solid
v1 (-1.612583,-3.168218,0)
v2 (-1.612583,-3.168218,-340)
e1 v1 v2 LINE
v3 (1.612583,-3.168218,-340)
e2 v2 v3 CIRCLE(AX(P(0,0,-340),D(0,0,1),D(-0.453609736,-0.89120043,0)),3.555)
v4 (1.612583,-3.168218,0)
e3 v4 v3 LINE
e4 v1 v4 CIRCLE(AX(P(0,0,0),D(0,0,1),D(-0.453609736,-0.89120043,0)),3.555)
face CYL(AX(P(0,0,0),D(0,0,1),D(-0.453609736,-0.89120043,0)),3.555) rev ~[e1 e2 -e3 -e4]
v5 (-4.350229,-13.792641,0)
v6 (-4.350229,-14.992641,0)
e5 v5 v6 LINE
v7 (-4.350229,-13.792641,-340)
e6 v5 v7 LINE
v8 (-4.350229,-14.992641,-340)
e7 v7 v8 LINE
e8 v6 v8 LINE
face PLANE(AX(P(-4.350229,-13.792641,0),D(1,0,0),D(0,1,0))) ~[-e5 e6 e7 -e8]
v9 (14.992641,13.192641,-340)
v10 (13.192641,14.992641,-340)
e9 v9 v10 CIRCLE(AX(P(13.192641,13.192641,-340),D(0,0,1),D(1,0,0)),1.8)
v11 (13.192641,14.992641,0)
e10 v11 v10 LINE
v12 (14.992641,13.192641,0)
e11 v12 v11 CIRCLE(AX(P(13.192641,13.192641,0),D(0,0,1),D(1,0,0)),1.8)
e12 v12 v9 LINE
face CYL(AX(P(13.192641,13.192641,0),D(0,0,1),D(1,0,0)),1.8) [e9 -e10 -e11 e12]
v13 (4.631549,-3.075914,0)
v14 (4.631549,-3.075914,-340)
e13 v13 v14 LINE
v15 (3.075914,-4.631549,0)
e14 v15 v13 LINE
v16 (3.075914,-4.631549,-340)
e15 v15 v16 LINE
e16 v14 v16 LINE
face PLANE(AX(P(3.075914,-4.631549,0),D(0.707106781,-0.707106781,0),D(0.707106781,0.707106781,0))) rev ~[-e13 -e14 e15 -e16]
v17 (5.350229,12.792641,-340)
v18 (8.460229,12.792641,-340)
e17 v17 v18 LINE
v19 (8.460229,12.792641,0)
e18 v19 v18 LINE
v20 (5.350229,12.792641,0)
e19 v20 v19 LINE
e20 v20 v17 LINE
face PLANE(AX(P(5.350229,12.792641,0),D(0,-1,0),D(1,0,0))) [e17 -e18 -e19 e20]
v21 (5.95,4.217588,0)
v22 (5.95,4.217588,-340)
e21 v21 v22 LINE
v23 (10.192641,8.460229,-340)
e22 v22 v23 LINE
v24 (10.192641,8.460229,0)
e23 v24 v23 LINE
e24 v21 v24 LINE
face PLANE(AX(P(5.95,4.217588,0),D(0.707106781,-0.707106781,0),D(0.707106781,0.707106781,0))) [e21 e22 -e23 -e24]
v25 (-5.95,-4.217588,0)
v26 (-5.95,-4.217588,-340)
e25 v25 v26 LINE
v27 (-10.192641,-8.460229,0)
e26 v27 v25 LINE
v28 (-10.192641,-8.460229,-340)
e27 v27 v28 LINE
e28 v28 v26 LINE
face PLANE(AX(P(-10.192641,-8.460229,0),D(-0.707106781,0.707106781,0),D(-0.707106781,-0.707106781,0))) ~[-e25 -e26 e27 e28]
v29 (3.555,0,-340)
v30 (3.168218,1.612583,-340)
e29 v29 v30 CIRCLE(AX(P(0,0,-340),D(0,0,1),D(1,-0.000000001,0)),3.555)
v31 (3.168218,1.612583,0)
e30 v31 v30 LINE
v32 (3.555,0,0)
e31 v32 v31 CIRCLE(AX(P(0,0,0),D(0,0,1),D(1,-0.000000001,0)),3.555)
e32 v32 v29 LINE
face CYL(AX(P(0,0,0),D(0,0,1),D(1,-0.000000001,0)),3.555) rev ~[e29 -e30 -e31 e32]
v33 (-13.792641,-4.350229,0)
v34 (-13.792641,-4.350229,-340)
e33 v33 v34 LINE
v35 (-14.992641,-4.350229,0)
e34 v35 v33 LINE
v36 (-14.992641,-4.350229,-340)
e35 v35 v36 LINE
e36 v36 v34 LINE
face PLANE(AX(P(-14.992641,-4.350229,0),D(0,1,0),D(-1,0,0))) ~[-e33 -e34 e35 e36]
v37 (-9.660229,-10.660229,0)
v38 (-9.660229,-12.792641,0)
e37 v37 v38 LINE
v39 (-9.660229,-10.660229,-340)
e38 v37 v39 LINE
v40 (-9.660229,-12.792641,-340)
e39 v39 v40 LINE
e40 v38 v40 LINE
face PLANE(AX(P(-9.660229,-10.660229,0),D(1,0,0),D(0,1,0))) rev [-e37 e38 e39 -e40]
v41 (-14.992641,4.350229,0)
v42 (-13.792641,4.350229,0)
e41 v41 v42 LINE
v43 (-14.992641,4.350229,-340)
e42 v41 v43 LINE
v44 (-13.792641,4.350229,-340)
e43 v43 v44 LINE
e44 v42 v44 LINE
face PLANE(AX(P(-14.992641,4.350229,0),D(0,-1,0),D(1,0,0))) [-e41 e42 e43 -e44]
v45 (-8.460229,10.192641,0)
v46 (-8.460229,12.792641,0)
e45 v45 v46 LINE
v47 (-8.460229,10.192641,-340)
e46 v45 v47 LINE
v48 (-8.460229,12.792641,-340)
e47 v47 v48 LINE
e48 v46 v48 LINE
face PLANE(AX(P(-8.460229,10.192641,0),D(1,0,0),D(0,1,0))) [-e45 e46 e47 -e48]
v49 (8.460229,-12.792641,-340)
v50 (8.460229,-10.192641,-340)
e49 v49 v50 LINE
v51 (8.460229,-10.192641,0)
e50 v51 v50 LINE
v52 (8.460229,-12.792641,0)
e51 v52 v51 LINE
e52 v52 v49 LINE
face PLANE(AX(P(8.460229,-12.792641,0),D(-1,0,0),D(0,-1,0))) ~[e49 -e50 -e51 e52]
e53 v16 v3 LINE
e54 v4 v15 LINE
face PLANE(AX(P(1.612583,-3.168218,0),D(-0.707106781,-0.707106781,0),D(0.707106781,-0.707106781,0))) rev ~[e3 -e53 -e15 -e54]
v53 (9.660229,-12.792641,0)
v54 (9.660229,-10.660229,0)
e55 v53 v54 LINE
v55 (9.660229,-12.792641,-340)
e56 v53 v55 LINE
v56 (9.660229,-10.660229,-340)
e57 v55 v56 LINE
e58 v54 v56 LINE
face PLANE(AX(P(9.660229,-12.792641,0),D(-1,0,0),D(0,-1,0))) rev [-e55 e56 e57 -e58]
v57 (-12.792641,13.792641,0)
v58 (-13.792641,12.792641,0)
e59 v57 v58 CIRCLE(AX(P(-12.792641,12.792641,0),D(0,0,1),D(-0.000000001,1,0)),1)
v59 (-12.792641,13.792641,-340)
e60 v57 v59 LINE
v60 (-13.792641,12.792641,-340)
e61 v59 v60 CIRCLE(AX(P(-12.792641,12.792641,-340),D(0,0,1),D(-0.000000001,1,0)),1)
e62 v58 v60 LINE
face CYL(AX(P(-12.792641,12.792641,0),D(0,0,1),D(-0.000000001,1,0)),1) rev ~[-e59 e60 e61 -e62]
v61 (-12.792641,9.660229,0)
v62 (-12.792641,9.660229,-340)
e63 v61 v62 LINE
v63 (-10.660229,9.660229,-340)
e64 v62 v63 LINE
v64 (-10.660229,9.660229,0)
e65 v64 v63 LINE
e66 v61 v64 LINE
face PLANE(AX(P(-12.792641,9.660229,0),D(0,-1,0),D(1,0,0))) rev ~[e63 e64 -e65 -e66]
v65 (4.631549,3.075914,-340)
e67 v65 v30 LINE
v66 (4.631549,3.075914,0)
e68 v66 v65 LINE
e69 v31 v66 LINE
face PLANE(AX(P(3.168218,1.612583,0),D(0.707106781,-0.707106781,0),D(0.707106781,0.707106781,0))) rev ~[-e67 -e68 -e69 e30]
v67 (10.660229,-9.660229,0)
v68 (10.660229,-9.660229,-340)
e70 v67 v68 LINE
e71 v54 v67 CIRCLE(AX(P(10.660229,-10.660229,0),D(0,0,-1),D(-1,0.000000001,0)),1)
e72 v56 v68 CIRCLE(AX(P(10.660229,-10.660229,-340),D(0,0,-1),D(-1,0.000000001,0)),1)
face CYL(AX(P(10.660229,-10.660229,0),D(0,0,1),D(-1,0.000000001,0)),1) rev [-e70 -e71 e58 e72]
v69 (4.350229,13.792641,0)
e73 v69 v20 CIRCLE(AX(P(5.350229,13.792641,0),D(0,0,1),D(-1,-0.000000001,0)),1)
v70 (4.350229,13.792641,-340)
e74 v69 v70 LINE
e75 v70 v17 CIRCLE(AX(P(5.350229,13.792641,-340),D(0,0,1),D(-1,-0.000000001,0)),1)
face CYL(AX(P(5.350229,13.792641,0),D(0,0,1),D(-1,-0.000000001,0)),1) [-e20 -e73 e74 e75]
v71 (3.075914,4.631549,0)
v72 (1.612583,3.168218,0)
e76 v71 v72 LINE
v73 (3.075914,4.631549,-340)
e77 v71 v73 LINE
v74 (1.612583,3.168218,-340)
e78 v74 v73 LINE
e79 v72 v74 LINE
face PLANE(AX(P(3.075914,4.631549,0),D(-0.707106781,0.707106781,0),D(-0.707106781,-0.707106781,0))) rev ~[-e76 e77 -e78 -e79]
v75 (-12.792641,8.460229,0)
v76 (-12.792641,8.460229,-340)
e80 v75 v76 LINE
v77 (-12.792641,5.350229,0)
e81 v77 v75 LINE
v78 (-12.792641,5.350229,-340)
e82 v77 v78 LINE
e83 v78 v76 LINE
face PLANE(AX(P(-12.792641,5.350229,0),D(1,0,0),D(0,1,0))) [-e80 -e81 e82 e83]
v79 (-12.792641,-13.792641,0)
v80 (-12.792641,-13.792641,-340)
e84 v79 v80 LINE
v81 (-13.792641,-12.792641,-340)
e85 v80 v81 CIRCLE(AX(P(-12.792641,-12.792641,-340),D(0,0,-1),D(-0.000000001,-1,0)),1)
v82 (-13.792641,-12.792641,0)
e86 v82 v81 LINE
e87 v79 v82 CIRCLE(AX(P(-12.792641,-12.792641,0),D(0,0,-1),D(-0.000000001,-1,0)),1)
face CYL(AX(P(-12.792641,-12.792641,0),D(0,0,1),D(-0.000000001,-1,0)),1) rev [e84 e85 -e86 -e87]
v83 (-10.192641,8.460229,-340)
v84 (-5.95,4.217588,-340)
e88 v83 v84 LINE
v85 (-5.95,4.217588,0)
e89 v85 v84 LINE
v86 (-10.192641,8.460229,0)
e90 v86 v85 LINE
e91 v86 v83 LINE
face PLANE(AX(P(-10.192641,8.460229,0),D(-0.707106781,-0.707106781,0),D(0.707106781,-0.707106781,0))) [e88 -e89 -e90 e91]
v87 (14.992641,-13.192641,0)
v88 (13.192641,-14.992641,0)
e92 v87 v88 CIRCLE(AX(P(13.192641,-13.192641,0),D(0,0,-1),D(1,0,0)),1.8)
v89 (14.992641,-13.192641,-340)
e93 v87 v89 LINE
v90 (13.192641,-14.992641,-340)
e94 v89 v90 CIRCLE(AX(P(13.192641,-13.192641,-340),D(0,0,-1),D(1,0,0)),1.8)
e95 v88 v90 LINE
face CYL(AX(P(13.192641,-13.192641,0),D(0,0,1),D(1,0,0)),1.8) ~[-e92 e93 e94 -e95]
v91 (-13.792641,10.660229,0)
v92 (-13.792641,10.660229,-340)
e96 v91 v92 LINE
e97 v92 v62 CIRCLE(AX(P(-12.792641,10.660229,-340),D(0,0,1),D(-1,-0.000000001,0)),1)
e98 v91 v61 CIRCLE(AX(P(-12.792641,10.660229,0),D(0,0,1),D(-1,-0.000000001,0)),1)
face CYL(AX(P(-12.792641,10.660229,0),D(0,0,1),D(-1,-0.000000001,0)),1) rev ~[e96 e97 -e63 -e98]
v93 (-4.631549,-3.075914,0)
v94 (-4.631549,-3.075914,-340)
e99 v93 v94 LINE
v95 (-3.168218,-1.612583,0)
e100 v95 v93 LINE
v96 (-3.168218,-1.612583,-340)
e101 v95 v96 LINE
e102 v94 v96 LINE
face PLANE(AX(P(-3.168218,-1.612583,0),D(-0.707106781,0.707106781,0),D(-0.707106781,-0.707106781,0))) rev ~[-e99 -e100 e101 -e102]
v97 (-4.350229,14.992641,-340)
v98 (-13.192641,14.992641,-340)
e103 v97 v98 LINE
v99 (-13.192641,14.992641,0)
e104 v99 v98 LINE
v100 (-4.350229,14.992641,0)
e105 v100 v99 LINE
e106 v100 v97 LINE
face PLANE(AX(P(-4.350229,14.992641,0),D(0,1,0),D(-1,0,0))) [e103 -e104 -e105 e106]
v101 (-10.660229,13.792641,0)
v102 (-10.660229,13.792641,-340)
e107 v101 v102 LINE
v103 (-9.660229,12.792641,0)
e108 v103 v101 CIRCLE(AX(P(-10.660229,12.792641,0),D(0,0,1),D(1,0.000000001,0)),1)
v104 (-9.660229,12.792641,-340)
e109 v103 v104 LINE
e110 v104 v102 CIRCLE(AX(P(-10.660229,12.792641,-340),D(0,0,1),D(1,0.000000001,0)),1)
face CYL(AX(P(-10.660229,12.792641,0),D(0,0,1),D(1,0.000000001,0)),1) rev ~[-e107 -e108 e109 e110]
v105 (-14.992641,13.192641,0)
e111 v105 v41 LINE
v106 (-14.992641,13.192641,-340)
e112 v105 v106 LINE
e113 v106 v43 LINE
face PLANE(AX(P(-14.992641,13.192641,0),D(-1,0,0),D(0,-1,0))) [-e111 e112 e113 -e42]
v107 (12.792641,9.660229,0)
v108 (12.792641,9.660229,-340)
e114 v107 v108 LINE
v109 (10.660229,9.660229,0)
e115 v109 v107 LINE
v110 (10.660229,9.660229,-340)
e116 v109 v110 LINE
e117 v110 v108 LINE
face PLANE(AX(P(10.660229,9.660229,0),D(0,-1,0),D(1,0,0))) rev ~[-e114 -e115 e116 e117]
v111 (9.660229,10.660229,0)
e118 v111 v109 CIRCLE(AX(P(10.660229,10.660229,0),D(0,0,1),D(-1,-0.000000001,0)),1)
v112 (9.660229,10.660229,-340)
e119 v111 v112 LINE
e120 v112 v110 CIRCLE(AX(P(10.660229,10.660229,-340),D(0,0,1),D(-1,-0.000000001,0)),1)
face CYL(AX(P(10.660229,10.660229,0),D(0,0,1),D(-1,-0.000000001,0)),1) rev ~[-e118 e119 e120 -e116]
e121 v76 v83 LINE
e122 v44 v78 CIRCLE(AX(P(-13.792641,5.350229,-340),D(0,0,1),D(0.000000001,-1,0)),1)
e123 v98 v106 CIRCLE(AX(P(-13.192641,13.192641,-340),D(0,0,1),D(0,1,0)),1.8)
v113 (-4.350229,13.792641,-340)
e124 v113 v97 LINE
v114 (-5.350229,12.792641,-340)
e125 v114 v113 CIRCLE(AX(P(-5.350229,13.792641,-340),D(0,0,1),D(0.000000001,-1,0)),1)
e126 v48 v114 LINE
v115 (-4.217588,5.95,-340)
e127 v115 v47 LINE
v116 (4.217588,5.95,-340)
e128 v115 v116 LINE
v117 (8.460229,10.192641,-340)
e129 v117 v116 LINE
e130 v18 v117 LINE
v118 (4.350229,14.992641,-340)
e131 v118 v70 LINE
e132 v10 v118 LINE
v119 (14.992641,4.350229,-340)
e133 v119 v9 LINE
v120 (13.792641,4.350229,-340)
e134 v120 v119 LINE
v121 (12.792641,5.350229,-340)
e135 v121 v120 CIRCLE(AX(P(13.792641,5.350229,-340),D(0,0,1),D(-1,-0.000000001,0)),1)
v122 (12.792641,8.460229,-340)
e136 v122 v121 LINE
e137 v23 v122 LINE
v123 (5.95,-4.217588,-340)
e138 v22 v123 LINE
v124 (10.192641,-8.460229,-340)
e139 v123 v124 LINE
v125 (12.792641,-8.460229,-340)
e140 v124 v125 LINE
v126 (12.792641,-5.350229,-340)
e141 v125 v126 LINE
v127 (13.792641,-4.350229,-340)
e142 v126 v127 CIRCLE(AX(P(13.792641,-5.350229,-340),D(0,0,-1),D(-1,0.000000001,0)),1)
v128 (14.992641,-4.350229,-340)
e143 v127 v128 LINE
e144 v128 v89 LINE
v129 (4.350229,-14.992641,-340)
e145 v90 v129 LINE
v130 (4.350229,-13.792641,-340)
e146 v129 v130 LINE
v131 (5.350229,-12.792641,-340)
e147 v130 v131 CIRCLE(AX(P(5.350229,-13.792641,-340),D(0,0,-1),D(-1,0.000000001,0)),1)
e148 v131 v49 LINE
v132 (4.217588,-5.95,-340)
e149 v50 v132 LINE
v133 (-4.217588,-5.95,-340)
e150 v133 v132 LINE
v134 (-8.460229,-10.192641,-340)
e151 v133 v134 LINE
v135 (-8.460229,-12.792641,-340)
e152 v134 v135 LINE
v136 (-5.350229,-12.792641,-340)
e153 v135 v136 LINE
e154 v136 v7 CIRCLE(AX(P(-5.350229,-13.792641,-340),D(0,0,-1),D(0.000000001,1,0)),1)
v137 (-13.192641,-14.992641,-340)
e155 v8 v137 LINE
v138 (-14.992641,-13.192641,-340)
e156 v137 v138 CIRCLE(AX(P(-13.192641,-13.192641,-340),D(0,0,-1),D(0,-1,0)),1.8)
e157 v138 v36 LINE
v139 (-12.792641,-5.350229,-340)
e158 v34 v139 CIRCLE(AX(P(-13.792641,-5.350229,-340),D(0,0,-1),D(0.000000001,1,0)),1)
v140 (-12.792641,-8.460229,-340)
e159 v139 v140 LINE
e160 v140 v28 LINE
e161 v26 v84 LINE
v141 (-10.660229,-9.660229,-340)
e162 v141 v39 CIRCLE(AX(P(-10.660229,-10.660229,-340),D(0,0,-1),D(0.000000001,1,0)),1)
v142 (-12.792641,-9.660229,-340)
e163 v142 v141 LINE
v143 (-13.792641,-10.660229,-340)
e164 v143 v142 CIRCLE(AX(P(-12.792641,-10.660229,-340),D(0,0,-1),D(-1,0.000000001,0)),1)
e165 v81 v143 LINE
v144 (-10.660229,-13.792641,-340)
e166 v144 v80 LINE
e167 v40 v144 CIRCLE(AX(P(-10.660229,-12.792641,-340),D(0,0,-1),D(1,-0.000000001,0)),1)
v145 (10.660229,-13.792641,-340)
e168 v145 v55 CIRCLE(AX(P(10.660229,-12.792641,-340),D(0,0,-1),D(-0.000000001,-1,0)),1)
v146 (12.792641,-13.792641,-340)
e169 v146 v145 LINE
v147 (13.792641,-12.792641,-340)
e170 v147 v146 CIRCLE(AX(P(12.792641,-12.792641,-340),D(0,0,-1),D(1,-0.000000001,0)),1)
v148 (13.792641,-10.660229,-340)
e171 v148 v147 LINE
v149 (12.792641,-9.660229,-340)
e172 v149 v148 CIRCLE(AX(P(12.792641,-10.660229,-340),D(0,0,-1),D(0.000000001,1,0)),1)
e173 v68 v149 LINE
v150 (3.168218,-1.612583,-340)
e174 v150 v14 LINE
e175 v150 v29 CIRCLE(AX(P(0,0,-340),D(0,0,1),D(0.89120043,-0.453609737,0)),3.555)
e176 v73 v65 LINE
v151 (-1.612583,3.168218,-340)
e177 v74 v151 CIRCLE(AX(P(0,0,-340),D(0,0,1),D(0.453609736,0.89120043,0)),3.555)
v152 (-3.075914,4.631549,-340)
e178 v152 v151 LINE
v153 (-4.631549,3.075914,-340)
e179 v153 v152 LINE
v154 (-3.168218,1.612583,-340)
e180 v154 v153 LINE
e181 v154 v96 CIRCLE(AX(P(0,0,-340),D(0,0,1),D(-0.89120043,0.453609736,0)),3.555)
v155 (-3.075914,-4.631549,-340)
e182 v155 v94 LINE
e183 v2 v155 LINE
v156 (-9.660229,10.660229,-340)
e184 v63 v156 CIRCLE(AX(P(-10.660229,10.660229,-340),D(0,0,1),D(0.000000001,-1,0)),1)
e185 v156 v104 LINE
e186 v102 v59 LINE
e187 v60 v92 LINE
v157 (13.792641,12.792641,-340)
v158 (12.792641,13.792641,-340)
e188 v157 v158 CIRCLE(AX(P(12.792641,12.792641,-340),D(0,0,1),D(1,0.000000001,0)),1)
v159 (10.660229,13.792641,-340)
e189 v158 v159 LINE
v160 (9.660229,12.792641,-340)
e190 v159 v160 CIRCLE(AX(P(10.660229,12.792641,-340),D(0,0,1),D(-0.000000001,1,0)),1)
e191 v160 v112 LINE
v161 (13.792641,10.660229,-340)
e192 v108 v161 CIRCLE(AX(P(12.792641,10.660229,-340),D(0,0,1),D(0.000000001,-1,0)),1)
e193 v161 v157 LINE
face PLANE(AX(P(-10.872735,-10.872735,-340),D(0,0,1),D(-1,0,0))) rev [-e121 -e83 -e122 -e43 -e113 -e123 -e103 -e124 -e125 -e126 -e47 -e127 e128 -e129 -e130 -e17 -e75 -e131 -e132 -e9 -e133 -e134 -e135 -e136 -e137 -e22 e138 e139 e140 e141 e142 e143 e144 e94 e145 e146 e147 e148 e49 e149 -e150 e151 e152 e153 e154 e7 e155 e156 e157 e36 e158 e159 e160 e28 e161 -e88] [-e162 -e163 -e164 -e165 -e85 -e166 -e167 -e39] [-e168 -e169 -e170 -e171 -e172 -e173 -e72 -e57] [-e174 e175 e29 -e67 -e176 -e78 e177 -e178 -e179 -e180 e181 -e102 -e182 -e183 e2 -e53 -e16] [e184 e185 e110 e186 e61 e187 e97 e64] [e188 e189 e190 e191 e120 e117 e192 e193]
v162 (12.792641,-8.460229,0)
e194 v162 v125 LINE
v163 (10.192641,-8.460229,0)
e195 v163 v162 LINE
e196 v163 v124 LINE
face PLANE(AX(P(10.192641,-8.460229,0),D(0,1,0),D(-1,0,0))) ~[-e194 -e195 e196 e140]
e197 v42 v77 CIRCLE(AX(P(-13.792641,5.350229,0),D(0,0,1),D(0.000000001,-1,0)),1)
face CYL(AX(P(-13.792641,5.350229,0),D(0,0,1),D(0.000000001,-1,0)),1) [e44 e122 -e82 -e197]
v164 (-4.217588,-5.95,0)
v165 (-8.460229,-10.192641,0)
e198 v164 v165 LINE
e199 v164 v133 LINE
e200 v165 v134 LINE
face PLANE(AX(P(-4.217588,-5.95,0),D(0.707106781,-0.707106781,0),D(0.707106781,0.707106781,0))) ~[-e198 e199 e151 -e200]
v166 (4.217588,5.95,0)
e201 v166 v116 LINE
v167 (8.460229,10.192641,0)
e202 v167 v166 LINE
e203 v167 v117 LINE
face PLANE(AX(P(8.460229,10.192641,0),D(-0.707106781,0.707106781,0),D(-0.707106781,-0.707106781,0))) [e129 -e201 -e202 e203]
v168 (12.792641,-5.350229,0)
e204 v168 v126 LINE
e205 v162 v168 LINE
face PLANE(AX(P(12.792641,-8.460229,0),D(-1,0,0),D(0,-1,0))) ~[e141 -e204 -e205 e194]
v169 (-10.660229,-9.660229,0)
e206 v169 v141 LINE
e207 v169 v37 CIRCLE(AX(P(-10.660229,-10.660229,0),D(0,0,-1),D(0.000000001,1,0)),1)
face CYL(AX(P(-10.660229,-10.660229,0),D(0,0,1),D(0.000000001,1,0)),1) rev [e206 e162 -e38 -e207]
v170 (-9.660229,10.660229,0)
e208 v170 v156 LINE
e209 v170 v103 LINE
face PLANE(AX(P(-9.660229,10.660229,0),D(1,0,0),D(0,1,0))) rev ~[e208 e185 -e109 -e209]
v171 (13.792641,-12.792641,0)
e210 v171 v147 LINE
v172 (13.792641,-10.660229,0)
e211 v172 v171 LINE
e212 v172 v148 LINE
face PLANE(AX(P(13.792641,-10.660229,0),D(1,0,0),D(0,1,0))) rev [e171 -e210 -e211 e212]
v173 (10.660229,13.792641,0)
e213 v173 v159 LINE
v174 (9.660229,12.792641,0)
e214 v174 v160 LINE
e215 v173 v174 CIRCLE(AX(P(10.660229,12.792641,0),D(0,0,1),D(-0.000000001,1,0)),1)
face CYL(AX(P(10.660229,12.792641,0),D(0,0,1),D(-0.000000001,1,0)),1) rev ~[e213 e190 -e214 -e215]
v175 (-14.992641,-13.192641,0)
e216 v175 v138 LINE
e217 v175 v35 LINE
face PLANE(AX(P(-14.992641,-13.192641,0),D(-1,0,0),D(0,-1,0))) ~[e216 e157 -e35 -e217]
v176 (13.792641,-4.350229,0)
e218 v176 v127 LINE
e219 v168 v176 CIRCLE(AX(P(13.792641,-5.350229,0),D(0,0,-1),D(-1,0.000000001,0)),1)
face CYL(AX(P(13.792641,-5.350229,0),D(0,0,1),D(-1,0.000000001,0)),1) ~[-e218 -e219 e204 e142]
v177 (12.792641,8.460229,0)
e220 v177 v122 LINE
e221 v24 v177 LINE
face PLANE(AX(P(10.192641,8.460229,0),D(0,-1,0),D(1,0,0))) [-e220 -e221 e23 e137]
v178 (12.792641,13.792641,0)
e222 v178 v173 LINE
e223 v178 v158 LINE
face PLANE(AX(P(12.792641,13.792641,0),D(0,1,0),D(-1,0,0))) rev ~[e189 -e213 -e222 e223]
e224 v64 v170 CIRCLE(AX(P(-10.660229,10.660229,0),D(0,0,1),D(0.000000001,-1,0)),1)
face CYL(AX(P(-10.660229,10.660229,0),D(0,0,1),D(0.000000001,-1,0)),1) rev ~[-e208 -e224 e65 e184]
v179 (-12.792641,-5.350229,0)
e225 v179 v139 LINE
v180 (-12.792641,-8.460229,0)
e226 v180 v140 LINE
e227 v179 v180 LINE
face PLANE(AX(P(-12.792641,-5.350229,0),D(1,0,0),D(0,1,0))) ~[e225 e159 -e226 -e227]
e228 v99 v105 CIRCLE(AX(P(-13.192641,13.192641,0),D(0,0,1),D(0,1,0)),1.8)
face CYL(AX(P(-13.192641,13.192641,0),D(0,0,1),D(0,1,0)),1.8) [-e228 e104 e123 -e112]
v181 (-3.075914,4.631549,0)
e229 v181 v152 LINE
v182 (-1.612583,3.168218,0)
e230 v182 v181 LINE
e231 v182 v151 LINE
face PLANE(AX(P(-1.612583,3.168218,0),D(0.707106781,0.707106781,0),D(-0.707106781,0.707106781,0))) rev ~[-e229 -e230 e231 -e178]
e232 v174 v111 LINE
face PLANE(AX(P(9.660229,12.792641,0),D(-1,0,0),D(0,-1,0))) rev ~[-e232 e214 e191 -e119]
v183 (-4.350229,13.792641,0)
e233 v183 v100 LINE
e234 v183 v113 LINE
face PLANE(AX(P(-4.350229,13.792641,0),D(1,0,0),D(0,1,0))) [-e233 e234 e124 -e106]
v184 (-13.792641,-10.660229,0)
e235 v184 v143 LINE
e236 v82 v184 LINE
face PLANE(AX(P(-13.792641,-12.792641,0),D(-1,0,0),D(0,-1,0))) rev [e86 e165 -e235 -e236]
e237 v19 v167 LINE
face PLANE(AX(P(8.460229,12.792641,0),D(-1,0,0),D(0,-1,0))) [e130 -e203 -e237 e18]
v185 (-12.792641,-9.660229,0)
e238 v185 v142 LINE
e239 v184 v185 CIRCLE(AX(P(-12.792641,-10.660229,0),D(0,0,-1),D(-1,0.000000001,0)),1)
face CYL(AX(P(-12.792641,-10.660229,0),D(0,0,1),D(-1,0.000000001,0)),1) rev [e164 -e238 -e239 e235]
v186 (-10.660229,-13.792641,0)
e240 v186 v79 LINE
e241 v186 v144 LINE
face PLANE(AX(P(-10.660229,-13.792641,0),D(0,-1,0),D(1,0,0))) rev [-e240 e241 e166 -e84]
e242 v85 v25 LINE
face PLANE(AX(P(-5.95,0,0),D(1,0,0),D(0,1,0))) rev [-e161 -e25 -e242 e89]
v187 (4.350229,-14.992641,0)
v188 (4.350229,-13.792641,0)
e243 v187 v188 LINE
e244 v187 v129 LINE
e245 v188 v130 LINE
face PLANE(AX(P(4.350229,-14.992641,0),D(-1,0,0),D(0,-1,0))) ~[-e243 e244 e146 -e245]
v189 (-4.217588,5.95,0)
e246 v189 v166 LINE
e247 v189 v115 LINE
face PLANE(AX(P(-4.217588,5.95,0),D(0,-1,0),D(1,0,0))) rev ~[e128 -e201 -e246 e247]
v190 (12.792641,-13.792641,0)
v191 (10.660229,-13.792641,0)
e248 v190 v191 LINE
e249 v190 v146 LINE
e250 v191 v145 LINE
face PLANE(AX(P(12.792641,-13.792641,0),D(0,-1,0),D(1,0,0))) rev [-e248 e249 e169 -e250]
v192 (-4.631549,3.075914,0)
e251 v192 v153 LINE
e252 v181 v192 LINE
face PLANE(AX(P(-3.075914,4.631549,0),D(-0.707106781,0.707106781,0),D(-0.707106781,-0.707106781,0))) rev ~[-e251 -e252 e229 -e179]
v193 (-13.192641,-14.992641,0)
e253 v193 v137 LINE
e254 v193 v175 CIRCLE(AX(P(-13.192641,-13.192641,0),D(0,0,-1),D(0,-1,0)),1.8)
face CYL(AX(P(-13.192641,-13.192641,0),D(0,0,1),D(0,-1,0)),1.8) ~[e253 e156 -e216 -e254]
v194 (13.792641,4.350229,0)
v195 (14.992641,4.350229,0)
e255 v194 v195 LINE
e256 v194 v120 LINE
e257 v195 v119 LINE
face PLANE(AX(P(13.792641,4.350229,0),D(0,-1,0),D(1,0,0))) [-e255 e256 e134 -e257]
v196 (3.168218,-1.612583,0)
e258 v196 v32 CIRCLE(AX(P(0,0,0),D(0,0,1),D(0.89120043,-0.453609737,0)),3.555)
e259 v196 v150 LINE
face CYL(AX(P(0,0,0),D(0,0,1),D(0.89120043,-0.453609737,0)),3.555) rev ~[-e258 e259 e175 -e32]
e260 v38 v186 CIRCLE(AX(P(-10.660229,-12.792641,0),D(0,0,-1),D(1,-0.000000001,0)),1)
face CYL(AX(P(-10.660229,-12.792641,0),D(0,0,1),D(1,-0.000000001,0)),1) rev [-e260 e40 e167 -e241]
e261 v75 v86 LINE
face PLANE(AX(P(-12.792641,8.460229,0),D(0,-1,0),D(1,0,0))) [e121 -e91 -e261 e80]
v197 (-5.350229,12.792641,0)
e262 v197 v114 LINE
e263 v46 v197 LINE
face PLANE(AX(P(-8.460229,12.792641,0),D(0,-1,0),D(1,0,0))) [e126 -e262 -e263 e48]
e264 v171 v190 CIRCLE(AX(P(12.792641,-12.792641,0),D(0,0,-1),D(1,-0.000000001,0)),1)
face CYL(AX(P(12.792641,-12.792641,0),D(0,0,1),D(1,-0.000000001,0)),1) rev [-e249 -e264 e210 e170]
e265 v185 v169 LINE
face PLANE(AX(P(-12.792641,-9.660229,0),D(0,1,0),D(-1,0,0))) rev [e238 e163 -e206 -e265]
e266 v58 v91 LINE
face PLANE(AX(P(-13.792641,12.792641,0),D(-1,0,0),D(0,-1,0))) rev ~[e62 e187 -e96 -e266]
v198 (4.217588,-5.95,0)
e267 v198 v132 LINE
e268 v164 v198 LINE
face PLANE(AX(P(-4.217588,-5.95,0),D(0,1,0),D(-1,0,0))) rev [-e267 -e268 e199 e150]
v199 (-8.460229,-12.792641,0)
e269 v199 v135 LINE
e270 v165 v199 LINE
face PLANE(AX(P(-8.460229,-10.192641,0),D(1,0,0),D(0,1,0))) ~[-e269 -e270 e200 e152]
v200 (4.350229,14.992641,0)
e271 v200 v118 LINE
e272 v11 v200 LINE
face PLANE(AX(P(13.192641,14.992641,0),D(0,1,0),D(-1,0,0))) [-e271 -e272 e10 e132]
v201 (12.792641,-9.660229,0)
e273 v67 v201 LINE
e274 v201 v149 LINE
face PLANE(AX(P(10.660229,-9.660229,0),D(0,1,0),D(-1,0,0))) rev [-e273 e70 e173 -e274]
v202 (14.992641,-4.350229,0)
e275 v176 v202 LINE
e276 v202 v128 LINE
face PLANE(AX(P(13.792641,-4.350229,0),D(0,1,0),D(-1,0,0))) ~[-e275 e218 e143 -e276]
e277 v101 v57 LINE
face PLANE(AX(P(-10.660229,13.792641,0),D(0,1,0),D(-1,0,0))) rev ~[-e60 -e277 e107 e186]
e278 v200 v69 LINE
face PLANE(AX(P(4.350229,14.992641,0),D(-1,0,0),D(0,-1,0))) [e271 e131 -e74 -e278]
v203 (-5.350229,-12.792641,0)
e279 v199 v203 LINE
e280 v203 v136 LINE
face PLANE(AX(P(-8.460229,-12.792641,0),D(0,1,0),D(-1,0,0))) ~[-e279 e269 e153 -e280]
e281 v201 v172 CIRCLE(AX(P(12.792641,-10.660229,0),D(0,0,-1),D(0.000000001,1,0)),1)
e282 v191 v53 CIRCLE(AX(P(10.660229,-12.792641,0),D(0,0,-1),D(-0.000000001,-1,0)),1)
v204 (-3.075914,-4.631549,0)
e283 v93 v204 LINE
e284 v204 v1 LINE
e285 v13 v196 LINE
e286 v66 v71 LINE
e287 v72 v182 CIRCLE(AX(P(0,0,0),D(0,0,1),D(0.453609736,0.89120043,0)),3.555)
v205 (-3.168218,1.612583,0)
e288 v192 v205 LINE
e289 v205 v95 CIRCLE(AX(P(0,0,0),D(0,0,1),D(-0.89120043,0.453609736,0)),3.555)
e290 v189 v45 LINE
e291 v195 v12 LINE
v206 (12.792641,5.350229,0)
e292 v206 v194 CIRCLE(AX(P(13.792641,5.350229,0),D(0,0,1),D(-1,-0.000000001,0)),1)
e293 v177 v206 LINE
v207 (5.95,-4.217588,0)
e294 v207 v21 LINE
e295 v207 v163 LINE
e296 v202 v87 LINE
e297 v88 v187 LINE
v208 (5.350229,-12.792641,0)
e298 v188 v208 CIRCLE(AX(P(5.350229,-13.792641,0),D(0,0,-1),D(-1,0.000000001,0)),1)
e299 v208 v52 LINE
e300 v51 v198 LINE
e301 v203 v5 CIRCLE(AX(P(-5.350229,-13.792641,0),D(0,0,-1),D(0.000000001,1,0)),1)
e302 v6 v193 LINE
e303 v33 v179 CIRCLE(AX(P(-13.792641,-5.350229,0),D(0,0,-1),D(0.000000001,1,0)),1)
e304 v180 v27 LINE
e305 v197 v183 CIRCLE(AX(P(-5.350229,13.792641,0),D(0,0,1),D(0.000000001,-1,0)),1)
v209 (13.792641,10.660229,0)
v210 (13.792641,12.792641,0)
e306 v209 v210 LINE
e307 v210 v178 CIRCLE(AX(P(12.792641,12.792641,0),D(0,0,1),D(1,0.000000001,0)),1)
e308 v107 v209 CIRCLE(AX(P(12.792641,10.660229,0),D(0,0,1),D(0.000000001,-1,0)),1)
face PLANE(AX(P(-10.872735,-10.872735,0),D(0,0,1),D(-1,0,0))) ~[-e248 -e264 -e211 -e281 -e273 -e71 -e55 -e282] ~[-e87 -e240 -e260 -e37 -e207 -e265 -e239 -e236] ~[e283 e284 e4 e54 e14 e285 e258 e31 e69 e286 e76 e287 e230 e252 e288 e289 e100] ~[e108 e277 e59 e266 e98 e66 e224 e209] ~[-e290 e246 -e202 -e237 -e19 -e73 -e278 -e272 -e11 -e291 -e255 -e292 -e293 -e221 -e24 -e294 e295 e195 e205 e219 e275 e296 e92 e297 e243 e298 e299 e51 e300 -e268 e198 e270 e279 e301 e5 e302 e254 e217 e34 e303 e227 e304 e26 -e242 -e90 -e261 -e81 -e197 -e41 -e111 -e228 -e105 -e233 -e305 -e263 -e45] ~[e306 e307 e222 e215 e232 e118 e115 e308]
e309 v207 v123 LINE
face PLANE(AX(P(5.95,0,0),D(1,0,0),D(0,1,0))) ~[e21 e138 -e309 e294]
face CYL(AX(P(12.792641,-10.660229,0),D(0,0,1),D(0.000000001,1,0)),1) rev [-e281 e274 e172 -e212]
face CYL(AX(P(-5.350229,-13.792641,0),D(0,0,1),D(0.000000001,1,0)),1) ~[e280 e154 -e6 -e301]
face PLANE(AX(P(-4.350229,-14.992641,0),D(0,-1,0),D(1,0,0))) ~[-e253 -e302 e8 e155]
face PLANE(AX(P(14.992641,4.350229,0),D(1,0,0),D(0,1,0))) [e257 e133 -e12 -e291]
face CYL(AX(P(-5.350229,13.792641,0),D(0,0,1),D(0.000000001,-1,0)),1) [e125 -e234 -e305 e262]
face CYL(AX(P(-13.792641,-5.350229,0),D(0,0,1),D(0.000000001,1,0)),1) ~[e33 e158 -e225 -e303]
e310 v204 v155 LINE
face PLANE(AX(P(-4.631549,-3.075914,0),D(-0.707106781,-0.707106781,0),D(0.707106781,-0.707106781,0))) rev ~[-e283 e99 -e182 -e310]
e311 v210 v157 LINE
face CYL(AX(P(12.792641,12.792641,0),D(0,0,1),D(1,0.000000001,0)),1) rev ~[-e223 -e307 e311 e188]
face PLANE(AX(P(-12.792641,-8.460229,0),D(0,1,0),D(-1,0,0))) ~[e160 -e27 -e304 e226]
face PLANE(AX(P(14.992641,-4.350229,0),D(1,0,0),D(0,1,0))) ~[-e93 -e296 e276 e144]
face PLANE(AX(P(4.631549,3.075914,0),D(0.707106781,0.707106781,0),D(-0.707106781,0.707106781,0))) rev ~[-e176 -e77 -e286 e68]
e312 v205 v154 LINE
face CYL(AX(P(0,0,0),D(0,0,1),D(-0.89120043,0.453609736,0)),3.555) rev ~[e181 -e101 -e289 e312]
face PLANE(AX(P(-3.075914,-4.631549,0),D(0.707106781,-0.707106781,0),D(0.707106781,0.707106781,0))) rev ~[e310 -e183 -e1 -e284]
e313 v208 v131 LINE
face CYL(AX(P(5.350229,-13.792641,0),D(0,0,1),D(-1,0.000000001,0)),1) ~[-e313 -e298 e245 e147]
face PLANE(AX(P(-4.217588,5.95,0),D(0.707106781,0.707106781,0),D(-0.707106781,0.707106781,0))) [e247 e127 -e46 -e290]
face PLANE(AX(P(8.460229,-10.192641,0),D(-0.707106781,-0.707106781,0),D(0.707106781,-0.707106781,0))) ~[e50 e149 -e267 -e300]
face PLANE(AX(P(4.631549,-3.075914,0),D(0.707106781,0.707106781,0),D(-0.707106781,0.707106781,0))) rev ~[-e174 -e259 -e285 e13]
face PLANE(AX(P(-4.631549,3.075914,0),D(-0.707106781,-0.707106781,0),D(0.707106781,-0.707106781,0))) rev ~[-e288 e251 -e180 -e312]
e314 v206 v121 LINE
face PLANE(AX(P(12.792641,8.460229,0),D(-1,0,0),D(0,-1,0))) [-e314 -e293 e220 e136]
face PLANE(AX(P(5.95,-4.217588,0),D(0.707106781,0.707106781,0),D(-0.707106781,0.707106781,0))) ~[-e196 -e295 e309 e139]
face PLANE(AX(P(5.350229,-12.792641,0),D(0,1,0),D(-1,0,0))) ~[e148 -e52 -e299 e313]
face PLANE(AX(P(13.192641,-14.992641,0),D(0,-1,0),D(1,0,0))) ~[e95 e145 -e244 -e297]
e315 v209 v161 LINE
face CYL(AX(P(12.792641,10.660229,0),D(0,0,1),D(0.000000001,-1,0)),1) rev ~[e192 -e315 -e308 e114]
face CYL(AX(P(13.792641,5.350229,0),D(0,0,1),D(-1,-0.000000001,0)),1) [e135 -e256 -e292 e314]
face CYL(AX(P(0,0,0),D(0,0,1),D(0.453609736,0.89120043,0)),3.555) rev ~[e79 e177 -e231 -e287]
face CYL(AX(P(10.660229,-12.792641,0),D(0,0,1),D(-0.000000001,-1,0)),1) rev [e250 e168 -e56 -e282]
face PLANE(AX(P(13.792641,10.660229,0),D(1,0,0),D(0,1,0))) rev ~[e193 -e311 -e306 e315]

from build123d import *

# Parameters (mm, degrees)
SKETCH1_W           = 11.9
SKETCH1_H           = 5.95
BOSS_EXTRUDE1_DEPTH = 340
CUT_EXTRUDE1_DEPTH  = 341


with BuildPart() as part:
    # Sketch1 → Boss-Extrude1 (new body)
    with BuildSketch(Plane.XY):
        with BuildLine():
            Line((-4.350229073, 14.992640687), (-13.192640687, 14.992640687))
            ThreePointArc((-13.192640687, 14.992640687), (-14.465432893, 14.465432893), (-14.992640687, 13.192640687))
            Line((-14.992640687, 13.192640687), (-14.992640687, 4.350229073))
            Line((-14.992640687, 4.350229073), (-13.792640687, 4.350229073))
            ThreePointArc((-13.792640687, 4.350229073), (-13.085533906, 4.643122292), (-12.792640687, 5.350229073))
            Line((-12.792640687, 5.350229073), (-12.792640687, 8.460229073))
            Line((-12.792640687, 8.460229073), (-8.460229073, 8.460229073))
            Line((-8.460229073, 8.460229073), (-8.460229073, 12.792640687))
            Line((-8.460229073, 12.792640687), (-5.350229073, 12.792640687))
            ThreePointArc((-5.350229073, 12.792640687), (-4.643122292, 13.085533906), (-4.350229073, 13.792640687))
            Line((-4.350229073, 13.792640687), (-4.350229073, 14.992640687))
        make_face()
        with BuildLine():
            Line((-10.660229073, 13.792640687), (-12.792640687, 13.792640687))
            ThreePointArc((-12.792640687, 13.792640687), (-13.499747468, 13.499747468), (-13.792640687, 12.792640687))
            Line((-13.792640687, 12.792640687), (-13.792640687, 10.660229073))
            ThreePointArc((-13.792640687, 10.660229073), (-13.499747468, 9.953122292), (-12.792640687, 9.660229073))
            Line((-12.792640687, 9.660229073), (-10.660229073, 9.660229073))
            ThreePointArc((-10.660229073, 9.660229073), (-9.953122292, 9.953122292), (-9.660229073, 10.660229073))
            Line((-9.660229073, 10.660229073), (-9.660229073, 12.792640687))
            ThreePointArc((-9.660229073, 12.792640687), (-9.953122292, 13.499747468), (-10.660229073, 13.792640687))
        make_face(mode=Mode.SUBTRACT)
        Polygon((-5.95, 4.217588386), (-5.95, 5.95), (-4.217588386, 5.95), (-8.460229073, 10.192640687), (-8.460229073, 8.460229073), (-10.192640687, 8.460229073), align=None)
        with Locations((0, 2.975)):
            Rectangle(SKETCH1_W, SKETCH1_H)
        Polygon((8.460229073, 10.192640687), (4.217588386, 5.95), (5.95, 5.95), (5.95, 4.217588386), (10.192640687, 8.460229073), (8.460229073, 8.460229073), align=None)
        with BuildLine():
            Line((12.792640687, 8.460229073), (12.792640687, 5.350229073))
            ThreePointArc((12.792640687, 5.350229073), (13.085533906, 4.643122292), (13.792640687, 4.350229073))
            Line((13.792640687, 4.350229073), (14.992640687, 4.350229073))
            Line((14.992640687, 4.350229073), (14.992640687, 13.192640687))
            ThreePointArc((14.992640687, 13.192640687), (14.465432893, 14.465432893), (13.192640687, 14.992640687))
            Line((13.192640687, 14.992640687), (4.350229073, 14.992640687))
            Line((4.350229073, 14.992640687), (4.350229073, 13.792640687))
            ThreePointArc((4.350229073, 13.792640687), (4.643122292, 13.085533906), (5.350229073, 12.792640687))
            Line((5.350229073, 12.792640687), (8.460229073, 12.792640687))
            Line((8.460229073, 12.792640687), (8.460229073, 8.460229073))
            Line((8.460229073, 8.460229073), (12.792640687, 8.460229073))
        make_face()
        with BuildLine():
            ThreePointArc((9.660229073, 10.660229073), (9.953122292, 9.953122292), (10.660229073, 9.660229073))
            Line((10.660229073, 9.660229073), (12.792640687, 9.660229073))
            ThreePointArc((12.792640687, 9.660229073), (13.499747468, 9.953122292), (13.792640687, 10.660229073))
            Line((13.792640687, 10.660229073), (13.792640687, 12.792640687))
            ThreePointArc((13.792640687, 12.792640687), (13.499747468, 13.499747468), (12.792640687, 13.792640687))
            Line((12.792640687, 13.792640687), (10.660229073, 13.792640687))
            ThreePointArc((10.660229073, 13.792640687), (9.953122292, 13.499747468), (9.660229073, 12.792640687))
            Line((9.660229073, 12.792640687), (9.660229073, 10.660229073))
        make_face(mode=Mode.SUBTRACT)
    extrude(amount=-BOSS_EXTRUDE1_DEPTH)

    # Mirror1: part across plane


with BuildPart() as part_1:
    add(part.part)
    add(part.part.mirror(Plane(origin=(0, 0, -340), x_dir=(0, 0, 1), z_dir=(0, -1, 0))))

    # Sketch2 → Cut-Extrude1 (cut, through all)
    with BuildSketch(Plane.XY):
        with BuildLine():
            Line((-4.631549417, 3.075914498), (-3.16821753, 1.612582612))
            ThreePointArc((-3.16821753, 1.612582612), (-2.513764607, 2.513764607), (-1.612582612, 3.16821753))
            Line((-1.612582612, 3.16821753), (-3.075914498, 4.631549417))
            Line((-3.075914498, 4.631549417), (-4.631549417, 3.075914498))
        make_face()
        with BuildLine():
            Line((-3.16821753, 1.612582612), (-1.555634919, 0))
            Line((-1.555634919, 0), (0, 1.555634919))
            Line((0, 1.555634919), (-1.612582612, 3.16821753))
            ThreePointArc((-1.612582612, 3.16821753), (-2.513764607, 2.513764607), (-3.16821753, 1.612582612))
        make_face()
        with BuildLine():
            ThreePointArc((-3.16821753, 1.612582612), (-3.555, 0), (-3.16821753, -1.612582612))
            Line((-3.16821753, -1.612582612), (-1.555634919, 0))
            Line((-1.555634919, 0), (-3.16821753, 1.612582612))
        make_face()
        with BuildLine():
            Line((-4.631549417, -3.075914498), (-3.075914498, -4.631549417))
            Line((-3.075914498, -4.631549417), (-1.612582612, -3.16821753))
            ThreePointArc((-1.612582612, -3.16821753), (-2.513764607, -2.513764607), (-3.16821753, -1.612582612))
            Line((-3.16821753, -1.612582612), (-4.631549417, -3.075914498))
        make_face()
        with BuildLine():
            ThreePointArc((-3.16821753, -1.612582612), (-2.513764607, -2.513764607), (-1.612582612, -3.16821753))
            Line((-1.612582612, -3.16821753), (0, -1.555634919))
            Line((0, -1.555634919), (-1.555634919, 0))
            Line((-1.555634919, 0), (-3.16821753, -1.612582612))
        make_face()
        with BuildLine():
            Line((0, -1.555634919), (-1.612582612, -3.16821753))
            ThreePointArc((-1.612582612, -3.16821753), (0, -3.555), (1.612582612, -3.16821753))
            Line((1.612582612, -3.16821753), (0, -1.555634919))
        make_face()
        with BuildLine():
            Line((1.555634919, 0), (0, -1.555634919))
            Line((0, -1.555634919), (1.612582612, -3.16821753))
            ThreePointArc((1.612582612, -3.16821753), (2.513764607, -2.513764607), (3.16821753, -1.612582612))
            Line((3.16821753, -1.612582612), (1.555634919, 0))
        make_face()
        with BuildLine():
            Line((3.16821753, 1.612582612), (1.555634919, 0))
            Line((1.555634919, 0), (3.16821753, -1.612582612))
            ThreePointArc((3.16821753, -1.612582612), (3.456952294, -0.829159719), (3.555, 0))
            ThreePointArc((3.555, 0), (3.456952294, 0.829159719), (3.16821753, 1.612582612))
        make_face()
        Polygon((-1.555634919, 0), (0, -1.555634919), (1.555634919, 0), (0, 1.555634919), align=None)
        with BuildLine():
            Line((0, 1.555634919), (1.555634919, 0))
            Line((1.555634919, 0), (3.16821753, 1.612582612))
            ThreePointArc((3.16821753, 1.612582612), (2.513764607, 2.513764607), (1.612582612, 3.16821753))
            Line((1.612582612, 3.16821753), (0, 1.555634919))
        make_face()
        with BuildLine():
            Line((-1.612582612, 3.16821753), (0, 1.555634919))
            Line((0, 1.555634919), (1.612582612, 3.16821753))
            ThreePointArc((1.612582612, 3.16821753), (0, 3.555), (-1.612582612, 3.16821753))
        make_face()
        with BuildLine():
            ThreePointArc((1.612582612, 3.16821753), (2.513764607, 2.513764607), (3.16821753, 1.612582612))
            Line((3.16821753, 1.612582612), (4.631549417, 3.075914498))
            Line((4.631549417, 3.075914498), (3.075914498, 4.631549417))
            Line((3.075914498, 4.631549417), (1.612582612, 3.16821753))
        make_face()
        with BuildLine():
            ThreePointArc((3.16821753, -1.612582612), (2.513764607, -2.513764607), (1.612582612, -3.16821753))
            Line((1.612582612, -3.16821753), (3.075914498, -4.631549417))
            Line((3.075914498, -4.631549417), (4.631549417, -3.075914498))
            Line((4.631549417, -3.075914498), (3.16821753, -1.612582612))
        make_face()
    extrude(amount=-CUT_EXTRUDE1_DEPTH, mode=Mode.SUBTRACT)


solid = part_1.part
